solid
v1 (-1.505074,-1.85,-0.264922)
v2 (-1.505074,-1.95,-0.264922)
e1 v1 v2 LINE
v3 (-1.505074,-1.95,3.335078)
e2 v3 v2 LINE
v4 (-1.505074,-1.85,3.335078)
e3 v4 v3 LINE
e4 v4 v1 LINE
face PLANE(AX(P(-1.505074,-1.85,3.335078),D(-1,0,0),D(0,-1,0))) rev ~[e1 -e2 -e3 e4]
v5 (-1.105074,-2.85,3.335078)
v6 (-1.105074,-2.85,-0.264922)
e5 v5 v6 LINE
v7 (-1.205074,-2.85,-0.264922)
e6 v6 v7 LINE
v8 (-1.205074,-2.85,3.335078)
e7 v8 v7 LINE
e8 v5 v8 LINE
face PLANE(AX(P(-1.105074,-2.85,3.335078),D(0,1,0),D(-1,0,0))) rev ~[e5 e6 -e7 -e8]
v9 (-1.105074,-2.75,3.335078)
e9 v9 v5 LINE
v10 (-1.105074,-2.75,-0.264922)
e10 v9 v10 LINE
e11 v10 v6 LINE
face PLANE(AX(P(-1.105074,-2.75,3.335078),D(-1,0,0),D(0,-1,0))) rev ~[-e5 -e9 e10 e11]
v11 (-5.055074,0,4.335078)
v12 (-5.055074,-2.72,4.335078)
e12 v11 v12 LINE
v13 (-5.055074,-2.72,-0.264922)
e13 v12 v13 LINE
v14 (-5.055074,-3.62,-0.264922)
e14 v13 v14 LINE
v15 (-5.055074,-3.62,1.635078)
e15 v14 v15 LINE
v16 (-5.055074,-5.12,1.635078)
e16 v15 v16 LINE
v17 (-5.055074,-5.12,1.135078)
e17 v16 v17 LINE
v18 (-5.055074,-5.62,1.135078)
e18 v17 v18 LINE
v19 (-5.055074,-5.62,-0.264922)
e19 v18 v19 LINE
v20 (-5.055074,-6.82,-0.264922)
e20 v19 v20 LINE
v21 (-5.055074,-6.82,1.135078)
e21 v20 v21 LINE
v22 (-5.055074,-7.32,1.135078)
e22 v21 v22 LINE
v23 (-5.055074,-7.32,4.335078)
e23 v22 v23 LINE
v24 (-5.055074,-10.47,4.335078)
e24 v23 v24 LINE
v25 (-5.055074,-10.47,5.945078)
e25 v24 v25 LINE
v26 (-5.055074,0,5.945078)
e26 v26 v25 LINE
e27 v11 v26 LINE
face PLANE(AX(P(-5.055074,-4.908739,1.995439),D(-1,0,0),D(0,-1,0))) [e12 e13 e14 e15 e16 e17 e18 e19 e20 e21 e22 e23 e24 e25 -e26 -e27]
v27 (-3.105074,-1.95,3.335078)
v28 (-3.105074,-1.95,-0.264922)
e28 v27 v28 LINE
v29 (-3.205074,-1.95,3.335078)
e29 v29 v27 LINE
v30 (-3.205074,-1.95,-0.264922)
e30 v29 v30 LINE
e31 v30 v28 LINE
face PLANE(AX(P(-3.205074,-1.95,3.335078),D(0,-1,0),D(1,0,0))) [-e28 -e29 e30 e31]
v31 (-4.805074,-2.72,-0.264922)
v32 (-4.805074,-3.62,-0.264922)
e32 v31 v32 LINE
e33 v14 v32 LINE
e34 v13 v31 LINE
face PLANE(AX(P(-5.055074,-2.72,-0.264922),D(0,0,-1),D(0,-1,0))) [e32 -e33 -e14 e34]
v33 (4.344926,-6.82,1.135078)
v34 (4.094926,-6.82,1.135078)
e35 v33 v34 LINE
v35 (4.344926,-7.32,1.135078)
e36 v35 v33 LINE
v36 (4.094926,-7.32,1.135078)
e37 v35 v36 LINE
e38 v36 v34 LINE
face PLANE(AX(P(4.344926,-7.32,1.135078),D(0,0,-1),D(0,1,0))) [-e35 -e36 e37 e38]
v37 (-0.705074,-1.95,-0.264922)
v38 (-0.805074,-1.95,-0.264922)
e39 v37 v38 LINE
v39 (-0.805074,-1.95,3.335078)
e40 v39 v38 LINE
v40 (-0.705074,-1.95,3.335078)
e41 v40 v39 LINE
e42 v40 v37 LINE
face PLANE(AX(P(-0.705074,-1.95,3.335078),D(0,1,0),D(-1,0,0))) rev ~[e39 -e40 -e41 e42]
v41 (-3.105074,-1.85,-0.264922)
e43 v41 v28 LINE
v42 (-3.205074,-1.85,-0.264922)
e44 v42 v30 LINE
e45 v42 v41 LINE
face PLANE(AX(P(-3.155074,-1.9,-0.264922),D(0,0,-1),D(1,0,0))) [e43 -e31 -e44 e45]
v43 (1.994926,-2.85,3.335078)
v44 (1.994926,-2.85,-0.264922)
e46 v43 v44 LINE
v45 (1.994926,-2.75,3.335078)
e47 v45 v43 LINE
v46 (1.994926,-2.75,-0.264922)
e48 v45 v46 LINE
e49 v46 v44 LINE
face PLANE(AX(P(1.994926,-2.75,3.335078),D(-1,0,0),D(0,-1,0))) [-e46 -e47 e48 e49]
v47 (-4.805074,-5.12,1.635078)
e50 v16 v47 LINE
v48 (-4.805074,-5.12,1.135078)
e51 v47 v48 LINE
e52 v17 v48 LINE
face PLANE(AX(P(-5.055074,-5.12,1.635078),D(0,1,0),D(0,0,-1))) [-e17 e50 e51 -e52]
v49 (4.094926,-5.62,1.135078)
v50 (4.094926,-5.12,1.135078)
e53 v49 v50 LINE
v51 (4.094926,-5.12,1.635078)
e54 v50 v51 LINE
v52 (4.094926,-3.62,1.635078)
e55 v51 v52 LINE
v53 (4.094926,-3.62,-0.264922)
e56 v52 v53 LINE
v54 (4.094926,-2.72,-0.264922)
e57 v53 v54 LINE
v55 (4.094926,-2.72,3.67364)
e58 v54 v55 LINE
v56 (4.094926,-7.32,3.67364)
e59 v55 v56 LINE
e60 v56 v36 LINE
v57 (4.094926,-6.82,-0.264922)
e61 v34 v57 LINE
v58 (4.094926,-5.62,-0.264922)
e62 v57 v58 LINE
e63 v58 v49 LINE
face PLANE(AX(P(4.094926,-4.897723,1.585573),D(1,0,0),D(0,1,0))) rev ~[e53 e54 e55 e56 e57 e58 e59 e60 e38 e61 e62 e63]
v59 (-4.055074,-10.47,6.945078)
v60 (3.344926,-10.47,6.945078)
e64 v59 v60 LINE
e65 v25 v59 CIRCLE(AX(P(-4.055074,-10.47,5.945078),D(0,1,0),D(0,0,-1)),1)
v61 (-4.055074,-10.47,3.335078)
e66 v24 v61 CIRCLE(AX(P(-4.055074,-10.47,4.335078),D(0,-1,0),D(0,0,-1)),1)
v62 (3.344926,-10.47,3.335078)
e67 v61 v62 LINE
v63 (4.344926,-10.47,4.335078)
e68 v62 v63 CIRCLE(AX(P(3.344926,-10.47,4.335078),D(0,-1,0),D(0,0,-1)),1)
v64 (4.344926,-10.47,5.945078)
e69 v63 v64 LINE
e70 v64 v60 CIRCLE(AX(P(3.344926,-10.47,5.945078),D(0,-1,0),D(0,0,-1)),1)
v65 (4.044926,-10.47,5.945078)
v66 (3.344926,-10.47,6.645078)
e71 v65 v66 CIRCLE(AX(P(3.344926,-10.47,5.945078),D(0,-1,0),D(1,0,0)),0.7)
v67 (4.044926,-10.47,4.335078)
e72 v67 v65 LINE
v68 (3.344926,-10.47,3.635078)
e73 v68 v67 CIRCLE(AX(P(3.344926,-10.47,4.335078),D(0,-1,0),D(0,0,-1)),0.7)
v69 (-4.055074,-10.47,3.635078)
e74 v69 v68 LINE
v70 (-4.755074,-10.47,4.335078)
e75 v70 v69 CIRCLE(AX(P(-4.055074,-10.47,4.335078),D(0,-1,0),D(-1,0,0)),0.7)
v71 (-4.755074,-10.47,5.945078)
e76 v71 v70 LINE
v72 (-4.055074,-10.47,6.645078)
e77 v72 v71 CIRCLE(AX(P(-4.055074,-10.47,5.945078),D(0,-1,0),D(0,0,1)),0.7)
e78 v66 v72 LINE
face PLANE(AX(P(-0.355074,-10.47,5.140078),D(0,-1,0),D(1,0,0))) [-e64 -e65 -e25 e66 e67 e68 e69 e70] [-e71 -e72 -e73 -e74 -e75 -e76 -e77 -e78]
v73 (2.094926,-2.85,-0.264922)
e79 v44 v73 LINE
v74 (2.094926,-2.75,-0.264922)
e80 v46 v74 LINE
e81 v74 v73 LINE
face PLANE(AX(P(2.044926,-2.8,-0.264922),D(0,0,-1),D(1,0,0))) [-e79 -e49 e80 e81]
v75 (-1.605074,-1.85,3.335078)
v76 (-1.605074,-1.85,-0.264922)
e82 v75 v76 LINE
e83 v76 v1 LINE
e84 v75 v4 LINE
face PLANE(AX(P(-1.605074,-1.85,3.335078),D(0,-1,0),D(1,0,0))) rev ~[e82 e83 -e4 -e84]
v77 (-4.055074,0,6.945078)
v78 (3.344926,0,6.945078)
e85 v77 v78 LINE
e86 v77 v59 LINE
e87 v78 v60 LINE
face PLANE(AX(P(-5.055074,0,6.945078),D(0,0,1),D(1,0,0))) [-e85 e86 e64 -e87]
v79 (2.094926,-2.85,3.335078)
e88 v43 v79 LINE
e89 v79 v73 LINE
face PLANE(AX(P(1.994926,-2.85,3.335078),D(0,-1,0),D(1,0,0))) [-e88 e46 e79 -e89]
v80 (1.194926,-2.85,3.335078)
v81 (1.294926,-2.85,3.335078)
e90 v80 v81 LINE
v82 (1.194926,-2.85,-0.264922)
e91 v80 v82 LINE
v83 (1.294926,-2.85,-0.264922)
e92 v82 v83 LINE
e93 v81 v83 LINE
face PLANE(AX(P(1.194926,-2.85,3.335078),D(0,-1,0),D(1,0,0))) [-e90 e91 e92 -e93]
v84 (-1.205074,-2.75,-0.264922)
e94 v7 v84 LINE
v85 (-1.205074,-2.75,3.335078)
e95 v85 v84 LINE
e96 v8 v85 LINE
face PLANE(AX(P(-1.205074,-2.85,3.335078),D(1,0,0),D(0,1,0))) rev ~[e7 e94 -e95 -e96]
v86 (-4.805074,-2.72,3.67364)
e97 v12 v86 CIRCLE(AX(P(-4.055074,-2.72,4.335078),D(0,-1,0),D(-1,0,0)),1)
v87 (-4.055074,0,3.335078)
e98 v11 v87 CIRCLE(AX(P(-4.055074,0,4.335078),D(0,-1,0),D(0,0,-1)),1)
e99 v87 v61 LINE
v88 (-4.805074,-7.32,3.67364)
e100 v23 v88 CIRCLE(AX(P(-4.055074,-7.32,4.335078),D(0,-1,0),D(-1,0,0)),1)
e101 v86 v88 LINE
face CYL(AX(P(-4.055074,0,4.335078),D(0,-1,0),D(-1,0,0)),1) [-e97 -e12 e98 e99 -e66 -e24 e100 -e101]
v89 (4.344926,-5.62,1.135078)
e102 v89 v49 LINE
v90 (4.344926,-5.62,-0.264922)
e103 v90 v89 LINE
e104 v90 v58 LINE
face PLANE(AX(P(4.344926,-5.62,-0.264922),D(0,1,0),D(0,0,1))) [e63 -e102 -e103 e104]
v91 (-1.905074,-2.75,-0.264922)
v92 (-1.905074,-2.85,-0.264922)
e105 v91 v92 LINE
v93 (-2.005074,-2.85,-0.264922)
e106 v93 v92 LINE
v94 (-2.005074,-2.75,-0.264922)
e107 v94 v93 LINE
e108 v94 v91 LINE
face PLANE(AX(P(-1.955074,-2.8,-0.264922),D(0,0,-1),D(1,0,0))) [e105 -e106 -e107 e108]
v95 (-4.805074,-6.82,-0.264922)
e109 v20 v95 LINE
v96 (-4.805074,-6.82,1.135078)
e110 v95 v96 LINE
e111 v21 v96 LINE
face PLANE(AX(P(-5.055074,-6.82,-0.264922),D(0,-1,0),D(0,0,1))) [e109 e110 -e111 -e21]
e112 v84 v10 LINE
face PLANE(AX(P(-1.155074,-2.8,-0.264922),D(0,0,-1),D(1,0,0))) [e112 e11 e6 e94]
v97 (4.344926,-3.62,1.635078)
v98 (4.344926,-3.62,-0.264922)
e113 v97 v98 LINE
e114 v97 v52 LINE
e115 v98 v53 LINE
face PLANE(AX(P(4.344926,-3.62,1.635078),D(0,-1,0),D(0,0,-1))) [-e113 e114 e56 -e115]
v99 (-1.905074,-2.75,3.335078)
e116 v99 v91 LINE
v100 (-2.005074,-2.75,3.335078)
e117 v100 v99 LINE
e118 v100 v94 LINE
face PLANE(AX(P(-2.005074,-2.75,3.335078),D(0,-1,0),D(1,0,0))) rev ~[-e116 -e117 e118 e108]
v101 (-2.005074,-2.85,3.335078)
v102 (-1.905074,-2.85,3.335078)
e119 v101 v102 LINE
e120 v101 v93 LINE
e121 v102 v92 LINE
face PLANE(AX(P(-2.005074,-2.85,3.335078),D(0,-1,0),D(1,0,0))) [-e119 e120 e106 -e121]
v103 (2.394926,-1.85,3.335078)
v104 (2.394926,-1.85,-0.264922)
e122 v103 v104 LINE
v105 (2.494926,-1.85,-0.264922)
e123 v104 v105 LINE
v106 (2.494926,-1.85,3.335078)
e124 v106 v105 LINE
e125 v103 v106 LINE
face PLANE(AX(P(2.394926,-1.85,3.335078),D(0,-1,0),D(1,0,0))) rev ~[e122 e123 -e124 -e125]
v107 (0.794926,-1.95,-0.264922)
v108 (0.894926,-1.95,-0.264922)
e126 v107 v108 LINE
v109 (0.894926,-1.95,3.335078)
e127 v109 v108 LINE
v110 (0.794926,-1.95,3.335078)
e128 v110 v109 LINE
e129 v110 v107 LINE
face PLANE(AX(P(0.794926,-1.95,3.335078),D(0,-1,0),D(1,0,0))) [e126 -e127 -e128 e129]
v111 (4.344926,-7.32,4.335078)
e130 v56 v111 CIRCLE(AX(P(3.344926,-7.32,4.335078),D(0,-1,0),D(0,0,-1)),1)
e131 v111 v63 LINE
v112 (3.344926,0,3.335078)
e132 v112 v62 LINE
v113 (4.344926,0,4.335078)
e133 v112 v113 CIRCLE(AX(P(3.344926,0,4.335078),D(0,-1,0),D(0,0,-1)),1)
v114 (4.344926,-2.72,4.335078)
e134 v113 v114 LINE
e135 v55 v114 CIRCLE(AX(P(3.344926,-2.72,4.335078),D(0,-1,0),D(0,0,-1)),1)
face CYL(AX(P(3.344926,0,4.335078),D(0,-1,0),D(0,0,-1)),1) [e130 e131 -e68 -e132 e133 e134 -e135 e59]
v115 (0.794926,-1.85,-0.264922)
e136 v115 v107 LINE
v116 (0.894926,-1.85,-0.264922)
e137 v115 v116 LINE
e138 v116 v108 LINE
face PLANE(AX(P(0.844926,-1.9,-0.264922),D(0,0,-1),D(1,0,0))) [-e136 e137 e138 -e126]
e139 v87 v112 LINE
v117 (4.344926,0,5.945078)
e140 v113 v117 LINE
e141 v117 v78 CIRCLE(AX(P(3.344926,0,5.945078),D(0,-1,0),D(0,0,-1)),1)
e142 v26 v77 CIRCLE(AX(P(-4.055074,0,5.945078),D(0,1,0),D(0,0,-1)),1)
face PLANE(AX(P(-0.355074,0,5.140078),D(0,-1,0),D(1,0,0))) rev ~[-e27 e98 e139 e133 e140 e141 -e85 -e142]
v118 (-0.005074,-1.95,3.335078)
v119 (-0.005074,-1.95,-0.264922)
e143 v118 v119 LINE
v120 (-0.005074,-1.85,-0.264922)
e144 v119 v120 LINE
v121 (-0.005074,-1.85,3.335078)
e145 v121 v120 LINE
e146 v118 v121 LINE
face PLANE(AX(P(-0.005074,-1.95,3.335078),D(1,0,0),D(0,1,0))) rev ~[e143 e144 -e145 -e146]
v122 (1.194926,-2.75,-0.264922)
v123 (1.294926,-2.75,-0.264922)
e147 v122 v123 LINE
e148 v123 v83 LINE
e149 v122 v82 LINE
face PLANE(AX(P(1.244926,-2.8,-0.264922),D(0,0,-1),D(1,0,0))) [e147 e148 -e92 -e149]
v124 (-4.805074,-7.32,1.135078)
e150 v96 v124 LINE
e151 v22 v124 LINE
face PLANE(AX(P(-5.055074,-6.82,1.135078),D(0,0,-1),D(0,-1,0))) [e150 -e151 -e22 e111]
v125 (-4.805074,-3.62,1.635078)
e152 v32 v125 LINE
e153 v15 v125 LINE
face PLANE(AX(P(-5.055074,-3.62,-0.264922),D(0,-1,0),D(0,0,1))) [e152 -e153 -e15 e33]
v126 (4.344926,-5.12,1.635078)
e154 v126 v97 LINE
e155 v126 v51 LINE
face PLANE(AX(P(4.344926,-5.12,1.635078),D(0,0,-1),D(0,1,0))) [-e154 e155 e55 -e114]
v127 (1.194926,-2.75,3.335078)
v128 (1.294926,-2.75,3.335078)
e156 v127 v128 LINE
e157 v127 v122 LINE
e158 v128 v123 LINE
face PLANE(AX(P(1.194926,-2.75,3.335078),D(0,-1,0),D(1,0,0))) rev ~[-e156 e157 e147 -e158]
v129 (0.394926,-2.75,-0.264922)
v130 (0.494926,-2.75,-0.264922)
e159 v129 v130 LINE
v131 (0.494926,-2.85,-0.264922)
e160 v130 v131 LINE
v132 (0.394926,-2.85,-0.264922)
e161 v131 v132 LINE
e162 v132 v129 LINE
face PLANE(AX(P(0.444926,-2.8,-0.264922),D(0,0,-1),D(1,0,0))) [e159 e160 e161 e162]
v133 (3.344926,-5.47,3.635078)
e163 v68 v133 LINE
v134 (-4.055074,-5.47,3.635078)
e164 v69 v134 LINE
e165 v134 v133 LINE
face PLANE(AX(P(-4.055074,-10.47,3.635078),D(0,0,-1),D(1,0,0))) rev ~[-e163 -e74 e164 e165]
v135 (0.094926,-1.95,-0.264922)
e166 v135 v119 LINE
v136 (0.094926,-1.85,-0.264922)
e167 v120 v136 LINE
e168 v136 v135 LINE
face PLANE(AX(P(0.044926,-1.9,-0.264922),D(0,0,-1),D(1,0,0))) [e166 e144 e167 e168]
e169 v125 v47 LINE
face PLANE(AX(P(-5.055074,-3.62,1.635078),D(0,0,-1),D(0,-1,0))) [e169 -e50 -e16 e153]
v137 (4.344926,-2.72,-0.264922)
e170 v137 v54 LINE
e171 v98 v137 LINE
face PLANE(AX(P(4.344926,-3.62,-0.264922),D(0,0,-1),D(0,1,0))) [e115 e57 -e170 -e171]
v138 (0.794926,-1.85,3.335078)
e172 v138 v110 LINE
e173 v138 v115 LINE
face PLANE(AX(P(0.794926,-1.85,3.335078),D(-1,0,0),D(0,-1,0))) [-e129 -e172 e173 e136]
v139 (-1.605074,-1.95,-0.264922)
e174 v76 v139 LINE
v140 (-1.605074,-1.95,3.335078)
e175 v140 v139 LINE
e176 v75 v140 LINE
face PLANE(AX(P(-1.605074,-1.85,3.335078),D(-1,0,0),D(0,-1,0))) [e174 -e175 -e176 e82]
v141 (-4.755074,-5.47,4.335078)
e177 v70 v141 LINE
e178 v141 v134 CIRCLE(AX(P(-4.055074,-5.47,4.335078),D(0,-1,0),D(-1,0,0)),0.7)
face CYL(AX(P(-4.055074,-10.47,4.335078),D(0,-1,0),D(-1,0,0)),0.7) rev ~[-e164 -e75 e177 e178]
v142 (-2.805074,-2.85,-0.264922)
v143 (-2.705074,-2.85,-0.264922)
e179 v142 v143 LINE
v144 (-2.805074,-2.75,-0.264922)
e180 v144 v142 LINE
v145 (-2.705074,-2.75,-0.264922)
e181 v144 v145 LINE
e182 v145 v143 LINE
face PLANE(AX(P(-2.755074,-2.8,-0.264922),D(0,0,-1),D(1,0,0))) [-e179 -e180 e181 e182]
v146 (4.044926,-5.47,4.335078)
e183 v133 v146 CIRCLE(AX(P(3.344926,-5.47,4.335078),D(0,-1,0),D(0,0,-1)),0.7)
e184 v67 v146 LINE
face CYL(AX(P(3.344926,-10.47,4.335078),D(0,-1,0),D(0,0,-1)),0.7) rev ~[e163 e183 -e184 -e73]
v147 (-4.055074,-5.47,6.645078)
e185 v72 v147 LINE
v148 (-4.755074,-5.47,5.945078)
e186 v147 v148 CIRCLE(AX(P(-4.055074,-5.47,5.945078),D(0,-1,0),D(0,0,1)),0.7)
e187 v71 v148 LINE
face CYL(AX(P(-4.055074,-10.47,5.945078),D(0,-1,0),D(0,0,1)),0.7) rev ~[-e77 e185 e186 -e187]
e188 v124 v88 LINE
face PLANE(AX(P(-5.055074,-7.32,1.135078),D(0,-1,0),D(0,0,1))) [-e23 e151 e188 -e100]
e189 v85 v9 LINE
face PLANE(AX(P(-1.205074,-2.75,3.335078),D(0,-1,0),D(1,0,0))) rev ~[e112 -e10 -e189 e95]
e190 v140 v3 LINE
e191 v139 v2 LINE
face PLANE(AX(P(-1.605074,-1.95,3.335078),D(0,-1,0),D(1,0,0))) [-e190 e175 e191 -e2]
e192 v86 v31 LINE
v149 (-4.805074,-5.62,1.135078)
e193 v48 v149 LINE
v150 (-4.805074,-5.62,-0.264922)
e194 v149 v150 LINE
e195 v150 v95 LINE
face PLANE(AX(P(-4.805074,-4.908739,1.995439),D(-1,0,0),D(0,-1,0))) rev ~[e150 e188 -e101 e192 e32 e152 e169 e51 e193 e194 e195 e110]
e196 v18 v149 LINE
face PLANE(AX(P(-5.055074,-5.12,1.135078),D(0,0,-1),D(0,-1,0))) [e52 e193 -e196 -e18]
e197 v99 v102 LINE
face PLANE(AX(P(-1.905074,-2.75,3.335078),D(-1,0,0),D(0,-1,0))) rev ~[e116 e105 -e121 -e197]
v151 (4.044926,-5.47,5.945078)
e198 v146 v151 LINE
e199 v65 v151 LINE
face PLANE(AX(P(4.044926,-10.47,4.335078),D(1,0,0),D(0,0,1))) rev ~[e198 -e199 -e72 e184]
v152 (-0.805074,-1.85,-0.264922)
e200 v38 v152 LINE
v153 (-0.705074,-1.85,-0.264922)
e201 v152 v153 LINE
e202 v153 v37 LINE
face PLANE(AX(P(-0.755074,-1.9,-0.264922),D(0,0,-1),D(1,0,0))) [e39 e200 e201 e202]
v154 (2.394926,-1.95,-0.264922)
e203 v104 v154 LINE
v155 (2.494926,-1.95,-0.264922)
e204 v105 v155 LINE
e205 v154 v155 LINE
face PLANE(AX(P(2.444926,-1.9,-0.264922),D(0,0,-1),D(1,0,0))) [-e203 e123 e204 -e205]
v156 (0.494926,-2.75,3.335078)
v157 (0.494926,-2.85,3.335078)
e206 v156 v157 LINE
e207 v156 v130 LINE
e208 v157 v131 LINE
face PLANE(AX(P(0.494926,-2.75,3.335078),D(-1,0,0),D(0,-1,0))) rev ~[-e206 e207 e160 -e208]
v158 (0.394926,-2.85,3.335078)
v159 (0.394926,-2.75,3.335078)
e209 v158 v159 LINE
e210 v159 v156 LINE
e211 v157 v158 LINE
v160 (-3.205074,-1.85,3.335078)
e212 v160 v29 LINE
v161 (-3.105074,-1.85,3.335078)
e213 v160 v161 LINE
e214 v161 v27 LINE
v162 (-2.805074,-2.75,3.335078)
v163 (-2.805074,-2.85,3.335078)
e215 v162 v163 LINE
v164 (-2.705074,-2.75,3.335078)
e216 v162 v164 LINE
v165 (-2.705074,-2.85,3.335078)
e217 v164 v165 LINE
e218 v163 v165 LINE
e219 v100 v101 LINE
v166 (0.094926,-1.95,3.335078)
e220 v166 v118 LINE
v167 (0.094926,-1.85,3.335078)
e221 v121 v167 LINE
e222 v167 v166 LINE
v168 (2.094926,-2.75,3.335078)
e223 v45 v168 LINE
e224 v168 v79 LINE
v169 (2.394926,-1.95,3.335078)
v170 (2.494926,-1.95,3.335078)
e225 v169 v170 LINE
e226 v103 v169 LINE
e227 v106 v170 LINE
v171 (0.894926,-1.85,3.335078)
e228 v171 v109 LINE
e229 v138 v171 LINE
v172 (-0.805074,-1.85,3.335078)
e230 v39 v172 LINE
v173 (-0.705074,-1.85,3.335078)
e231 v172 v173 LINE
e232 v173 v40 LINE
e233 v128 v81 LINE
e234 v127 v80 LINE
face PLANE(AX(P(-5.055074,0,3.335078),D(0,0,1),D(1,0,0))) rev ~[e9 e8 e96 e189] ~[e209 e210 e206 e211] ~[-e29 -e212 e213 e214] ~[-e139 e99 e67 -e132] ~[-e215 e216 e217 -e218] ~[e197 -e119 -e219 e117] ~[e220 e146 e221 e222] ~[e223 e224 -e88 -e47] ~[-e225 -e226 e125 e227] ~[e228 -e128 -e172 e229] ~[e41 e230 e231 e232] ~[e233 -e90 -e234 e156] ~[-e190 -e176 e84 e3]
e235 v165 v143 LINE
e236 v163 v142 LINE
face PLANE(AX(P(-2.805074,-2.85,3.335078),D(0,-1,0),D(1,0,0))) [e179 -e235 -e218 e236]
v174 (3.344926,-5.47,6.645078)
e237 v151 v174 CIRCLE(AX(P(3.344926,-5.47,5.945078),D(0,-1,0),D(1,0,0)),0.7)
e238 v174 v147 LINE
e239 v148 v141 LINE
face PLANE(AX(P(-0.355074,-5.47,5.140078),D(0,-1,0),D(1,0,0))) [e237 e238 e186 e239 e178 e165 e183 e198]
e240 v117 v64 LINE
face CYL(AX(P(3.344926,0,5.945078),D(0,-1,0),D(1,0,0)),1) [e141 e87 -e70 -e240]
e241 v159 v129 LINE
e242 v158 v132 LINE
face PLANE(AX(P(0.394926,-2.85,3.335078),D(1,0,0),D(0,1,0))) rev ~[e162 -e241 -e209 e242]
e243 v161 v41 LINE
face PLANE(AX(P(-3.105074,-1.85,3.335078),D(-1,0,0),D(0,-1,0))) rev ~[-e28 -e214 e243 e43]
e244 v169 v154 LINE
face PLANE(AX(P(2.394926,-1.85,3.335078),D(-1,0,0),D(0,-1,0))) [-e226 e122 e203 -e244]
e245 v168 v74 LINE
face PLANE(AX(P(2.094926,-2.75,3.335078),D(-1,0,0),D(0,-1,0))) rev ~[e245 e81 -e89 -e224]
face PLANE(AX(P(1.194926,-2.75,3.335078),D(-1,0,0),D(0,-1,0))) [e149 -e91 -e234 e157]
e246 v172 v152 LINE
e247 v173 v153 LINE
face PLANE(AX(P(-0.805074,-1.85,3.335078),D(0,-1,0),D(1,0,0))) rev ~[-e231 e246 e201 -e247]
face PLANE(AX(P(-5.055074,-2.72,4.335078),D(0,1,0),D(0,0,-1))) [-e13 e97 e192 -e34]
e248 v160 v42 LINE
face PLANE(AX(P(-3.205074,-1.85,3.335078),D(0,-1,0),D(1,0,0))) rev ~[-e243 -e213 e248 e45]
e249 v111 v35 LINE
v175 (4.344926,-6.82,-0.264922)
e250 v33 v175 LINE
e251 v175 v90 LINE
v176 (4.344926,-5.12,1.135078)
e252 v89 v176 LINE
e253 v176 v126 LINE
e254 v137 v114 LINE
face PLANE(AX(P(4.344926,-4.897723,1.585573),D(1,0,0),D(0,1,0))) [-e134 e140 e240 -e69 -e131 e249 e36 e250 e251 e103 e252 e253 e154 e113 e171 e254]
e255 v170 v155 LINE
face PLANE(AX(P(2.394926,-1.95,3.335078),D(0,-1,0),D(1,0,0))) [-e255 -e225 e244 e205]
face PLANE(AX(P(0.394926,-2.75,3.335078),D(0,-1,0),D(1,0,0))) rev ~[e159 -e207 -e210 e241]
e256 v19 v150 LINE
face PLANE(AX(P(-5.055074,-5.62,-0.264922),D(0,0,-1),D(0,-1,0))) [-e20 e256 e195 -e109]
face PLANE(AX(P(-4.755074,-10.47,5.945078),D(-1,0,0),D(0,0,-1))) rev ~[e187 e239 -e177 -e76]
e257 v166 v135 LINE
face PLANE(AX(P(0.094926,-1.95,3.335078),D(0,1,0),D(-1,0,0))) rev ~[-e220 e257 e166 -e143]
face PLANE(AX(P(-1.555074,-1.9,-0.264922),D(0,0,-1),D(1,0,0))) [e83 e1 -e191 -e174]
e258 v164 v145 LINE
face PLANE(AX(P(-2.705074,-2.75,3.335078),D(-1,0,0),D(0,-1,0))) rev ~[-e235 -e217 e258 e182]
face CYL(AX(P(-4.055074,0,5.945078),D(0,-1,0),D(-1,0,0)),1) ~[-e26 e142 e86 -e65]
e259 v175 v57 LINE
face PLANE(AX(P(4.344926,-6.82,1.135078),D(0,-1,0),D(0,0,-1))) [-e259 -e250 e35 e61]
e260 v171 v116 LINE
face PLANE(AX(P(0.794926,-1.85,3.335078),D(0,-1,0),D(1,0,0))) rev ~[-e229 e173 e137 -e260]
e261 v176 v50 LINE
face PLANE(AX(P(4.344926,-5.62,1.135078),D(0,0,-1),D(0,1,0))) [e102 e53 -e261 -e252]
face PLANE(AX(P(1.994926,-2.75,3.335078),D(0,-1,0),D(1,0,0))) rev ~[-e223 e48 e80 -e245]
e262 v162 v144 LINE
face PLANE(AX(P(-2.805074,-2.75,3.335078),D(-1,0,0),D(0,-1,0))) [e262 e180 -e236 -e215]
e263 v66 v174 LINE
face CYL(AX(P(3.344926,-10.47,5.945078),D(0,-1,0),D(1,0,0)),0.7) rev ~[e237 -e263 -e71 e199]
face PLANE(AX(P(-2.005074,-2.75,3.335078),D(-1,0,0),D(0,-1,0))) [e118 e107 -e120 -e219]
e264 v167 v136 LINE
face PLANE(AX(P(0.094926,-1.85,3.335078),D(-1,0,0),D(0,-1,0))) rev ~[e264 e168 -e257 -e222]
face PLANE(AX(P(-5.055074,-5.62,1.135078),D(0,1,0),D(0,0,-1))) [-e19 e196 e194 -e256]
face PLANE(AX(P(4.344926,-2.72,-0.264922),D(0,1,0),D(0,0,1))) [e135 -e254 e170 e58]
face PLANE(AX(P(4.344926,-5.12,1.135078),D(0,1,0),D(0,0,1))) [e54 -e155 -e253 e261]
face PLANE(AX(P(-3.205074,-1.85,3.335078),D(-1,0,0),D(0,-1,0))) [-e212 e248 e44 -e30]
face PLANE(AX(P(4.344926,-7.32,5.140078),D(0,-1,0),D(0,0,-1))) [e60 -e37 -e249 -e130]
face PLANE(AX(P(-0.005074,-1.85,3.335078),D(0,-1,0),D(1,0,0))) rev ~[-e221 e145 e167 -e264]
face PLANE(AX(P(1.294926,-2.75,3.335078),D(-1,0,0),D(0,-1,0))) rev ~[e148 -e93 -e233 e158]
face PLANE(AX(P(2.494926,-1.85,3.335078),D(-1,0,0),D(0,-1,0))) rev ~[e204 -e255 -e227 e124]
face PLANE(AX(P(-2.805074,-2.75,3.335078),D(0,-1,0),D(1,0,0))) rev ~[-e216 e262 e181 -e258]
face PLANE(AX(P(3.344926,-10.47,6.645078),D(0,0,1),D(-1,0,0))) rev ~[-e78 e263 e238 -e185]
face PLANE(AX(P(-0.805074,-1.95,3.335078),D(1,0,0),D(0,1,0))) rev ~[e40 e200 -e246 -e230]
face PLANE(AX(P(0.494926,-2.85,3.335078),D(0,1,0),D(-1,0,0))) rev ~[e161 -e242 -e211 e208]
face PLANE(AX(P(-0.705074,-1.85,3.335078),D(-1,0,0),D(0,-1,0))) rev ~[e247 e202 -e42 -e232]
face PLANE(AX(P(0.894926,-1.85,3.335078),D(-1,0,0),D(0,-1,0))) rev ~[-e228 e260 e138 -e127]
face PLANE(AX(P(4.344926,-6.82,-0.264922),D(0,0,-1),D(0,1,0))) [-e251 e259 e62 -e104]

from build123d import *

# Parameters (mm, degrees)
F0_W      = 9.4
F0_H      = 3.61
F1_DEPTH  = 10.47
F2_R      = 1
F3_W      = 4.6
F3_H      = 1
F3_H_2    = 0.805
F4_DEPTH  = 0.25
F6_DEPTH  = 0.25
F8_DEPTH  = 5
F9_W      = 0.1
F9_H      = 0.1
F10_DEPTH = 3.6


with BuildPart() as f1:
    # F0 (on Front) → F1 (new body)
    with BuildSketch(Plane.XZ):
        with Locations((-0.355073555, 5.140078254)):
            Rectangle(F0_W, F0_H)
    extrude(amount=F1_DEPTH)

    # F2
    f2_edges = [f1.edges().sort_by_distance(p)[0] for p in [
        (4.344926, -5.235, 6.945078),
        (4.344926, -5.235, 3.335078),
        (-5.055074, -5.235, 6.945078),
        (-5.055074, -5.235, 3.335078),
    ]]
    fillet(f2_edges, radius=F2_R)

    # F3 (on face) → F4 (join)
    with BuildSketch(Plane.YZ.offset(4.344926445)):
        Polygon((-2.72, -0.264921746), (-2.72, 3.335078254), (-7.32, 3.335078254), (-7.32, 1.135078254), (-6.82, 1.135078254), (-6.82, -0.264921746), (-5.62, -0.264921746), (-5.62, 1.135078254), (-5.12, 1.135078254), (-5.12, 1.635078254), (-3.62, 1.635078254), (-3.62, -0.264921746), align=None)
        with Locations((-5.02, 3.835078254)):
            Rectangle(F3_W, F3_H)
        with Locations((-5.02, 4.737578254)):
            Rectangle(F3_W, F3_H_2)
    extrude(amount=-F4_DEPTH)

    # F5 (on face) → F6 (join)
    with BuildSketch(Plane(origin=(-5.055073555, 0, 0), x_dir=(0, -1, 0), z_dir=(-1, 0, 0))):
        Polygon((7.32, 1.135078254), (7.32, 4.335078254), (2.72, 4.335078254), (2.72, -0.264921746), (3.62, -0.264921746), (3.62, 1.635078254), (5.12, 1.635078254), (5.12, 1.135078254), (5.62, 1.135078254), (5.62, -0.264921746), (6.82, -0.264921746), (6.82, 1.135078254), align=None)
    extrude(amount=-F6_DEPTH)

    # F7 (on face) → F8 (cut)
    with BuildSketch(Plane.XZ.offset(10.47)):
        with BuildLine():
            Line((3.344926445, 6.645078254), (-4.055073555, 6.645078254))
            ThreePointArc((-4.055073555, 6.645078254), (-4.5500483018, 6.4400530009), (-4.755073555, 5.945078254))
            Line((-4.755073555, 5.945078254), (-4.755073555, 4.335078254))
            ThreePointArc((-4.755073555, 4.335078254), (-4.5500483018, 3.8401035072), (-4.055073555, 3.635078254))
            Line((-4.055073555, 3.635078254), (3.344926445, 3.635078254))
            ThreePointArc((3.344926445, 3.635078254), (3.8399011918, 3.8401035072), (4.044926445, 4.335078254))
            Line((4.044926445, 4.335078254), (4.044926445, 5.945078254))
            ThreePointArc((4.044926445, 5.945078254), (3.8399011918, 6.4400530009), (3.344926445, 6.645078254))
        make_face()
    extrude(amount=-F8_DEPTH, mode=Mode.SUBTRACT)

    # F9 (on face) → F10 (join, through all)
    with BuildSketch(Plane(origin=(0, 0, 3.335078254), x_dir=(1, 0, 0), z_dir=(0, 0, -1))):
        with Locations((-3.155073555, 1.9)):
            Rectangle(F9_W, F9_H)
        with Locations((-1.555073555, 1.9)):
            Rectangle(F9_W, F9_H)
        Polygon((-0.705073555, 1.95), (-0.805073555, 1.95), (-0.805073555, 1.85), (-0.705073555, 1.85), (-0.705073555, 1.9), align=None)
        Polygon((-0.005073555, 1.95), (-0.005073555, 1.9), (-0.005073555, 1.85), (0.094926445, 1.85), (0.094926445, 1.95), align=None)
        Polygon((-1.105073555, 2.85), (-1.205073555, 2.85), (-1.205073555, 2.75), (-1.105073555, 2.75), (-1.105073555, 2.8), align=None)
        with Locations((-1.955073555, 2.8)):
            Rectangle(F9_W, F9_H)
        with Locations((-2.755073555, 2.8)):
            Rectangle(F9_W, F9_H)
        Polygon((0.394926445, 2.85), (0.394926445, 2.8), (0.394926445, 2.75), (0.494926445, 2.75), (0.494926445, 2.85), align=None)
        with Locations((0.844926445, 1.9)):
            Rectangle(F9_W, F9_H)
        with Locations((1.244926445, 2.8)):
            Rectangle(F9_W, F9_H)
        with Locations((2.044926445, 2.8)):
            Rectangle(F9_W, F9_H)
        with Locations((2.444926445, 1.9)):
            Rectangle(F9_W, F9_H)
    extrude(amount=F10_DEPTH)


solid = f1.part
